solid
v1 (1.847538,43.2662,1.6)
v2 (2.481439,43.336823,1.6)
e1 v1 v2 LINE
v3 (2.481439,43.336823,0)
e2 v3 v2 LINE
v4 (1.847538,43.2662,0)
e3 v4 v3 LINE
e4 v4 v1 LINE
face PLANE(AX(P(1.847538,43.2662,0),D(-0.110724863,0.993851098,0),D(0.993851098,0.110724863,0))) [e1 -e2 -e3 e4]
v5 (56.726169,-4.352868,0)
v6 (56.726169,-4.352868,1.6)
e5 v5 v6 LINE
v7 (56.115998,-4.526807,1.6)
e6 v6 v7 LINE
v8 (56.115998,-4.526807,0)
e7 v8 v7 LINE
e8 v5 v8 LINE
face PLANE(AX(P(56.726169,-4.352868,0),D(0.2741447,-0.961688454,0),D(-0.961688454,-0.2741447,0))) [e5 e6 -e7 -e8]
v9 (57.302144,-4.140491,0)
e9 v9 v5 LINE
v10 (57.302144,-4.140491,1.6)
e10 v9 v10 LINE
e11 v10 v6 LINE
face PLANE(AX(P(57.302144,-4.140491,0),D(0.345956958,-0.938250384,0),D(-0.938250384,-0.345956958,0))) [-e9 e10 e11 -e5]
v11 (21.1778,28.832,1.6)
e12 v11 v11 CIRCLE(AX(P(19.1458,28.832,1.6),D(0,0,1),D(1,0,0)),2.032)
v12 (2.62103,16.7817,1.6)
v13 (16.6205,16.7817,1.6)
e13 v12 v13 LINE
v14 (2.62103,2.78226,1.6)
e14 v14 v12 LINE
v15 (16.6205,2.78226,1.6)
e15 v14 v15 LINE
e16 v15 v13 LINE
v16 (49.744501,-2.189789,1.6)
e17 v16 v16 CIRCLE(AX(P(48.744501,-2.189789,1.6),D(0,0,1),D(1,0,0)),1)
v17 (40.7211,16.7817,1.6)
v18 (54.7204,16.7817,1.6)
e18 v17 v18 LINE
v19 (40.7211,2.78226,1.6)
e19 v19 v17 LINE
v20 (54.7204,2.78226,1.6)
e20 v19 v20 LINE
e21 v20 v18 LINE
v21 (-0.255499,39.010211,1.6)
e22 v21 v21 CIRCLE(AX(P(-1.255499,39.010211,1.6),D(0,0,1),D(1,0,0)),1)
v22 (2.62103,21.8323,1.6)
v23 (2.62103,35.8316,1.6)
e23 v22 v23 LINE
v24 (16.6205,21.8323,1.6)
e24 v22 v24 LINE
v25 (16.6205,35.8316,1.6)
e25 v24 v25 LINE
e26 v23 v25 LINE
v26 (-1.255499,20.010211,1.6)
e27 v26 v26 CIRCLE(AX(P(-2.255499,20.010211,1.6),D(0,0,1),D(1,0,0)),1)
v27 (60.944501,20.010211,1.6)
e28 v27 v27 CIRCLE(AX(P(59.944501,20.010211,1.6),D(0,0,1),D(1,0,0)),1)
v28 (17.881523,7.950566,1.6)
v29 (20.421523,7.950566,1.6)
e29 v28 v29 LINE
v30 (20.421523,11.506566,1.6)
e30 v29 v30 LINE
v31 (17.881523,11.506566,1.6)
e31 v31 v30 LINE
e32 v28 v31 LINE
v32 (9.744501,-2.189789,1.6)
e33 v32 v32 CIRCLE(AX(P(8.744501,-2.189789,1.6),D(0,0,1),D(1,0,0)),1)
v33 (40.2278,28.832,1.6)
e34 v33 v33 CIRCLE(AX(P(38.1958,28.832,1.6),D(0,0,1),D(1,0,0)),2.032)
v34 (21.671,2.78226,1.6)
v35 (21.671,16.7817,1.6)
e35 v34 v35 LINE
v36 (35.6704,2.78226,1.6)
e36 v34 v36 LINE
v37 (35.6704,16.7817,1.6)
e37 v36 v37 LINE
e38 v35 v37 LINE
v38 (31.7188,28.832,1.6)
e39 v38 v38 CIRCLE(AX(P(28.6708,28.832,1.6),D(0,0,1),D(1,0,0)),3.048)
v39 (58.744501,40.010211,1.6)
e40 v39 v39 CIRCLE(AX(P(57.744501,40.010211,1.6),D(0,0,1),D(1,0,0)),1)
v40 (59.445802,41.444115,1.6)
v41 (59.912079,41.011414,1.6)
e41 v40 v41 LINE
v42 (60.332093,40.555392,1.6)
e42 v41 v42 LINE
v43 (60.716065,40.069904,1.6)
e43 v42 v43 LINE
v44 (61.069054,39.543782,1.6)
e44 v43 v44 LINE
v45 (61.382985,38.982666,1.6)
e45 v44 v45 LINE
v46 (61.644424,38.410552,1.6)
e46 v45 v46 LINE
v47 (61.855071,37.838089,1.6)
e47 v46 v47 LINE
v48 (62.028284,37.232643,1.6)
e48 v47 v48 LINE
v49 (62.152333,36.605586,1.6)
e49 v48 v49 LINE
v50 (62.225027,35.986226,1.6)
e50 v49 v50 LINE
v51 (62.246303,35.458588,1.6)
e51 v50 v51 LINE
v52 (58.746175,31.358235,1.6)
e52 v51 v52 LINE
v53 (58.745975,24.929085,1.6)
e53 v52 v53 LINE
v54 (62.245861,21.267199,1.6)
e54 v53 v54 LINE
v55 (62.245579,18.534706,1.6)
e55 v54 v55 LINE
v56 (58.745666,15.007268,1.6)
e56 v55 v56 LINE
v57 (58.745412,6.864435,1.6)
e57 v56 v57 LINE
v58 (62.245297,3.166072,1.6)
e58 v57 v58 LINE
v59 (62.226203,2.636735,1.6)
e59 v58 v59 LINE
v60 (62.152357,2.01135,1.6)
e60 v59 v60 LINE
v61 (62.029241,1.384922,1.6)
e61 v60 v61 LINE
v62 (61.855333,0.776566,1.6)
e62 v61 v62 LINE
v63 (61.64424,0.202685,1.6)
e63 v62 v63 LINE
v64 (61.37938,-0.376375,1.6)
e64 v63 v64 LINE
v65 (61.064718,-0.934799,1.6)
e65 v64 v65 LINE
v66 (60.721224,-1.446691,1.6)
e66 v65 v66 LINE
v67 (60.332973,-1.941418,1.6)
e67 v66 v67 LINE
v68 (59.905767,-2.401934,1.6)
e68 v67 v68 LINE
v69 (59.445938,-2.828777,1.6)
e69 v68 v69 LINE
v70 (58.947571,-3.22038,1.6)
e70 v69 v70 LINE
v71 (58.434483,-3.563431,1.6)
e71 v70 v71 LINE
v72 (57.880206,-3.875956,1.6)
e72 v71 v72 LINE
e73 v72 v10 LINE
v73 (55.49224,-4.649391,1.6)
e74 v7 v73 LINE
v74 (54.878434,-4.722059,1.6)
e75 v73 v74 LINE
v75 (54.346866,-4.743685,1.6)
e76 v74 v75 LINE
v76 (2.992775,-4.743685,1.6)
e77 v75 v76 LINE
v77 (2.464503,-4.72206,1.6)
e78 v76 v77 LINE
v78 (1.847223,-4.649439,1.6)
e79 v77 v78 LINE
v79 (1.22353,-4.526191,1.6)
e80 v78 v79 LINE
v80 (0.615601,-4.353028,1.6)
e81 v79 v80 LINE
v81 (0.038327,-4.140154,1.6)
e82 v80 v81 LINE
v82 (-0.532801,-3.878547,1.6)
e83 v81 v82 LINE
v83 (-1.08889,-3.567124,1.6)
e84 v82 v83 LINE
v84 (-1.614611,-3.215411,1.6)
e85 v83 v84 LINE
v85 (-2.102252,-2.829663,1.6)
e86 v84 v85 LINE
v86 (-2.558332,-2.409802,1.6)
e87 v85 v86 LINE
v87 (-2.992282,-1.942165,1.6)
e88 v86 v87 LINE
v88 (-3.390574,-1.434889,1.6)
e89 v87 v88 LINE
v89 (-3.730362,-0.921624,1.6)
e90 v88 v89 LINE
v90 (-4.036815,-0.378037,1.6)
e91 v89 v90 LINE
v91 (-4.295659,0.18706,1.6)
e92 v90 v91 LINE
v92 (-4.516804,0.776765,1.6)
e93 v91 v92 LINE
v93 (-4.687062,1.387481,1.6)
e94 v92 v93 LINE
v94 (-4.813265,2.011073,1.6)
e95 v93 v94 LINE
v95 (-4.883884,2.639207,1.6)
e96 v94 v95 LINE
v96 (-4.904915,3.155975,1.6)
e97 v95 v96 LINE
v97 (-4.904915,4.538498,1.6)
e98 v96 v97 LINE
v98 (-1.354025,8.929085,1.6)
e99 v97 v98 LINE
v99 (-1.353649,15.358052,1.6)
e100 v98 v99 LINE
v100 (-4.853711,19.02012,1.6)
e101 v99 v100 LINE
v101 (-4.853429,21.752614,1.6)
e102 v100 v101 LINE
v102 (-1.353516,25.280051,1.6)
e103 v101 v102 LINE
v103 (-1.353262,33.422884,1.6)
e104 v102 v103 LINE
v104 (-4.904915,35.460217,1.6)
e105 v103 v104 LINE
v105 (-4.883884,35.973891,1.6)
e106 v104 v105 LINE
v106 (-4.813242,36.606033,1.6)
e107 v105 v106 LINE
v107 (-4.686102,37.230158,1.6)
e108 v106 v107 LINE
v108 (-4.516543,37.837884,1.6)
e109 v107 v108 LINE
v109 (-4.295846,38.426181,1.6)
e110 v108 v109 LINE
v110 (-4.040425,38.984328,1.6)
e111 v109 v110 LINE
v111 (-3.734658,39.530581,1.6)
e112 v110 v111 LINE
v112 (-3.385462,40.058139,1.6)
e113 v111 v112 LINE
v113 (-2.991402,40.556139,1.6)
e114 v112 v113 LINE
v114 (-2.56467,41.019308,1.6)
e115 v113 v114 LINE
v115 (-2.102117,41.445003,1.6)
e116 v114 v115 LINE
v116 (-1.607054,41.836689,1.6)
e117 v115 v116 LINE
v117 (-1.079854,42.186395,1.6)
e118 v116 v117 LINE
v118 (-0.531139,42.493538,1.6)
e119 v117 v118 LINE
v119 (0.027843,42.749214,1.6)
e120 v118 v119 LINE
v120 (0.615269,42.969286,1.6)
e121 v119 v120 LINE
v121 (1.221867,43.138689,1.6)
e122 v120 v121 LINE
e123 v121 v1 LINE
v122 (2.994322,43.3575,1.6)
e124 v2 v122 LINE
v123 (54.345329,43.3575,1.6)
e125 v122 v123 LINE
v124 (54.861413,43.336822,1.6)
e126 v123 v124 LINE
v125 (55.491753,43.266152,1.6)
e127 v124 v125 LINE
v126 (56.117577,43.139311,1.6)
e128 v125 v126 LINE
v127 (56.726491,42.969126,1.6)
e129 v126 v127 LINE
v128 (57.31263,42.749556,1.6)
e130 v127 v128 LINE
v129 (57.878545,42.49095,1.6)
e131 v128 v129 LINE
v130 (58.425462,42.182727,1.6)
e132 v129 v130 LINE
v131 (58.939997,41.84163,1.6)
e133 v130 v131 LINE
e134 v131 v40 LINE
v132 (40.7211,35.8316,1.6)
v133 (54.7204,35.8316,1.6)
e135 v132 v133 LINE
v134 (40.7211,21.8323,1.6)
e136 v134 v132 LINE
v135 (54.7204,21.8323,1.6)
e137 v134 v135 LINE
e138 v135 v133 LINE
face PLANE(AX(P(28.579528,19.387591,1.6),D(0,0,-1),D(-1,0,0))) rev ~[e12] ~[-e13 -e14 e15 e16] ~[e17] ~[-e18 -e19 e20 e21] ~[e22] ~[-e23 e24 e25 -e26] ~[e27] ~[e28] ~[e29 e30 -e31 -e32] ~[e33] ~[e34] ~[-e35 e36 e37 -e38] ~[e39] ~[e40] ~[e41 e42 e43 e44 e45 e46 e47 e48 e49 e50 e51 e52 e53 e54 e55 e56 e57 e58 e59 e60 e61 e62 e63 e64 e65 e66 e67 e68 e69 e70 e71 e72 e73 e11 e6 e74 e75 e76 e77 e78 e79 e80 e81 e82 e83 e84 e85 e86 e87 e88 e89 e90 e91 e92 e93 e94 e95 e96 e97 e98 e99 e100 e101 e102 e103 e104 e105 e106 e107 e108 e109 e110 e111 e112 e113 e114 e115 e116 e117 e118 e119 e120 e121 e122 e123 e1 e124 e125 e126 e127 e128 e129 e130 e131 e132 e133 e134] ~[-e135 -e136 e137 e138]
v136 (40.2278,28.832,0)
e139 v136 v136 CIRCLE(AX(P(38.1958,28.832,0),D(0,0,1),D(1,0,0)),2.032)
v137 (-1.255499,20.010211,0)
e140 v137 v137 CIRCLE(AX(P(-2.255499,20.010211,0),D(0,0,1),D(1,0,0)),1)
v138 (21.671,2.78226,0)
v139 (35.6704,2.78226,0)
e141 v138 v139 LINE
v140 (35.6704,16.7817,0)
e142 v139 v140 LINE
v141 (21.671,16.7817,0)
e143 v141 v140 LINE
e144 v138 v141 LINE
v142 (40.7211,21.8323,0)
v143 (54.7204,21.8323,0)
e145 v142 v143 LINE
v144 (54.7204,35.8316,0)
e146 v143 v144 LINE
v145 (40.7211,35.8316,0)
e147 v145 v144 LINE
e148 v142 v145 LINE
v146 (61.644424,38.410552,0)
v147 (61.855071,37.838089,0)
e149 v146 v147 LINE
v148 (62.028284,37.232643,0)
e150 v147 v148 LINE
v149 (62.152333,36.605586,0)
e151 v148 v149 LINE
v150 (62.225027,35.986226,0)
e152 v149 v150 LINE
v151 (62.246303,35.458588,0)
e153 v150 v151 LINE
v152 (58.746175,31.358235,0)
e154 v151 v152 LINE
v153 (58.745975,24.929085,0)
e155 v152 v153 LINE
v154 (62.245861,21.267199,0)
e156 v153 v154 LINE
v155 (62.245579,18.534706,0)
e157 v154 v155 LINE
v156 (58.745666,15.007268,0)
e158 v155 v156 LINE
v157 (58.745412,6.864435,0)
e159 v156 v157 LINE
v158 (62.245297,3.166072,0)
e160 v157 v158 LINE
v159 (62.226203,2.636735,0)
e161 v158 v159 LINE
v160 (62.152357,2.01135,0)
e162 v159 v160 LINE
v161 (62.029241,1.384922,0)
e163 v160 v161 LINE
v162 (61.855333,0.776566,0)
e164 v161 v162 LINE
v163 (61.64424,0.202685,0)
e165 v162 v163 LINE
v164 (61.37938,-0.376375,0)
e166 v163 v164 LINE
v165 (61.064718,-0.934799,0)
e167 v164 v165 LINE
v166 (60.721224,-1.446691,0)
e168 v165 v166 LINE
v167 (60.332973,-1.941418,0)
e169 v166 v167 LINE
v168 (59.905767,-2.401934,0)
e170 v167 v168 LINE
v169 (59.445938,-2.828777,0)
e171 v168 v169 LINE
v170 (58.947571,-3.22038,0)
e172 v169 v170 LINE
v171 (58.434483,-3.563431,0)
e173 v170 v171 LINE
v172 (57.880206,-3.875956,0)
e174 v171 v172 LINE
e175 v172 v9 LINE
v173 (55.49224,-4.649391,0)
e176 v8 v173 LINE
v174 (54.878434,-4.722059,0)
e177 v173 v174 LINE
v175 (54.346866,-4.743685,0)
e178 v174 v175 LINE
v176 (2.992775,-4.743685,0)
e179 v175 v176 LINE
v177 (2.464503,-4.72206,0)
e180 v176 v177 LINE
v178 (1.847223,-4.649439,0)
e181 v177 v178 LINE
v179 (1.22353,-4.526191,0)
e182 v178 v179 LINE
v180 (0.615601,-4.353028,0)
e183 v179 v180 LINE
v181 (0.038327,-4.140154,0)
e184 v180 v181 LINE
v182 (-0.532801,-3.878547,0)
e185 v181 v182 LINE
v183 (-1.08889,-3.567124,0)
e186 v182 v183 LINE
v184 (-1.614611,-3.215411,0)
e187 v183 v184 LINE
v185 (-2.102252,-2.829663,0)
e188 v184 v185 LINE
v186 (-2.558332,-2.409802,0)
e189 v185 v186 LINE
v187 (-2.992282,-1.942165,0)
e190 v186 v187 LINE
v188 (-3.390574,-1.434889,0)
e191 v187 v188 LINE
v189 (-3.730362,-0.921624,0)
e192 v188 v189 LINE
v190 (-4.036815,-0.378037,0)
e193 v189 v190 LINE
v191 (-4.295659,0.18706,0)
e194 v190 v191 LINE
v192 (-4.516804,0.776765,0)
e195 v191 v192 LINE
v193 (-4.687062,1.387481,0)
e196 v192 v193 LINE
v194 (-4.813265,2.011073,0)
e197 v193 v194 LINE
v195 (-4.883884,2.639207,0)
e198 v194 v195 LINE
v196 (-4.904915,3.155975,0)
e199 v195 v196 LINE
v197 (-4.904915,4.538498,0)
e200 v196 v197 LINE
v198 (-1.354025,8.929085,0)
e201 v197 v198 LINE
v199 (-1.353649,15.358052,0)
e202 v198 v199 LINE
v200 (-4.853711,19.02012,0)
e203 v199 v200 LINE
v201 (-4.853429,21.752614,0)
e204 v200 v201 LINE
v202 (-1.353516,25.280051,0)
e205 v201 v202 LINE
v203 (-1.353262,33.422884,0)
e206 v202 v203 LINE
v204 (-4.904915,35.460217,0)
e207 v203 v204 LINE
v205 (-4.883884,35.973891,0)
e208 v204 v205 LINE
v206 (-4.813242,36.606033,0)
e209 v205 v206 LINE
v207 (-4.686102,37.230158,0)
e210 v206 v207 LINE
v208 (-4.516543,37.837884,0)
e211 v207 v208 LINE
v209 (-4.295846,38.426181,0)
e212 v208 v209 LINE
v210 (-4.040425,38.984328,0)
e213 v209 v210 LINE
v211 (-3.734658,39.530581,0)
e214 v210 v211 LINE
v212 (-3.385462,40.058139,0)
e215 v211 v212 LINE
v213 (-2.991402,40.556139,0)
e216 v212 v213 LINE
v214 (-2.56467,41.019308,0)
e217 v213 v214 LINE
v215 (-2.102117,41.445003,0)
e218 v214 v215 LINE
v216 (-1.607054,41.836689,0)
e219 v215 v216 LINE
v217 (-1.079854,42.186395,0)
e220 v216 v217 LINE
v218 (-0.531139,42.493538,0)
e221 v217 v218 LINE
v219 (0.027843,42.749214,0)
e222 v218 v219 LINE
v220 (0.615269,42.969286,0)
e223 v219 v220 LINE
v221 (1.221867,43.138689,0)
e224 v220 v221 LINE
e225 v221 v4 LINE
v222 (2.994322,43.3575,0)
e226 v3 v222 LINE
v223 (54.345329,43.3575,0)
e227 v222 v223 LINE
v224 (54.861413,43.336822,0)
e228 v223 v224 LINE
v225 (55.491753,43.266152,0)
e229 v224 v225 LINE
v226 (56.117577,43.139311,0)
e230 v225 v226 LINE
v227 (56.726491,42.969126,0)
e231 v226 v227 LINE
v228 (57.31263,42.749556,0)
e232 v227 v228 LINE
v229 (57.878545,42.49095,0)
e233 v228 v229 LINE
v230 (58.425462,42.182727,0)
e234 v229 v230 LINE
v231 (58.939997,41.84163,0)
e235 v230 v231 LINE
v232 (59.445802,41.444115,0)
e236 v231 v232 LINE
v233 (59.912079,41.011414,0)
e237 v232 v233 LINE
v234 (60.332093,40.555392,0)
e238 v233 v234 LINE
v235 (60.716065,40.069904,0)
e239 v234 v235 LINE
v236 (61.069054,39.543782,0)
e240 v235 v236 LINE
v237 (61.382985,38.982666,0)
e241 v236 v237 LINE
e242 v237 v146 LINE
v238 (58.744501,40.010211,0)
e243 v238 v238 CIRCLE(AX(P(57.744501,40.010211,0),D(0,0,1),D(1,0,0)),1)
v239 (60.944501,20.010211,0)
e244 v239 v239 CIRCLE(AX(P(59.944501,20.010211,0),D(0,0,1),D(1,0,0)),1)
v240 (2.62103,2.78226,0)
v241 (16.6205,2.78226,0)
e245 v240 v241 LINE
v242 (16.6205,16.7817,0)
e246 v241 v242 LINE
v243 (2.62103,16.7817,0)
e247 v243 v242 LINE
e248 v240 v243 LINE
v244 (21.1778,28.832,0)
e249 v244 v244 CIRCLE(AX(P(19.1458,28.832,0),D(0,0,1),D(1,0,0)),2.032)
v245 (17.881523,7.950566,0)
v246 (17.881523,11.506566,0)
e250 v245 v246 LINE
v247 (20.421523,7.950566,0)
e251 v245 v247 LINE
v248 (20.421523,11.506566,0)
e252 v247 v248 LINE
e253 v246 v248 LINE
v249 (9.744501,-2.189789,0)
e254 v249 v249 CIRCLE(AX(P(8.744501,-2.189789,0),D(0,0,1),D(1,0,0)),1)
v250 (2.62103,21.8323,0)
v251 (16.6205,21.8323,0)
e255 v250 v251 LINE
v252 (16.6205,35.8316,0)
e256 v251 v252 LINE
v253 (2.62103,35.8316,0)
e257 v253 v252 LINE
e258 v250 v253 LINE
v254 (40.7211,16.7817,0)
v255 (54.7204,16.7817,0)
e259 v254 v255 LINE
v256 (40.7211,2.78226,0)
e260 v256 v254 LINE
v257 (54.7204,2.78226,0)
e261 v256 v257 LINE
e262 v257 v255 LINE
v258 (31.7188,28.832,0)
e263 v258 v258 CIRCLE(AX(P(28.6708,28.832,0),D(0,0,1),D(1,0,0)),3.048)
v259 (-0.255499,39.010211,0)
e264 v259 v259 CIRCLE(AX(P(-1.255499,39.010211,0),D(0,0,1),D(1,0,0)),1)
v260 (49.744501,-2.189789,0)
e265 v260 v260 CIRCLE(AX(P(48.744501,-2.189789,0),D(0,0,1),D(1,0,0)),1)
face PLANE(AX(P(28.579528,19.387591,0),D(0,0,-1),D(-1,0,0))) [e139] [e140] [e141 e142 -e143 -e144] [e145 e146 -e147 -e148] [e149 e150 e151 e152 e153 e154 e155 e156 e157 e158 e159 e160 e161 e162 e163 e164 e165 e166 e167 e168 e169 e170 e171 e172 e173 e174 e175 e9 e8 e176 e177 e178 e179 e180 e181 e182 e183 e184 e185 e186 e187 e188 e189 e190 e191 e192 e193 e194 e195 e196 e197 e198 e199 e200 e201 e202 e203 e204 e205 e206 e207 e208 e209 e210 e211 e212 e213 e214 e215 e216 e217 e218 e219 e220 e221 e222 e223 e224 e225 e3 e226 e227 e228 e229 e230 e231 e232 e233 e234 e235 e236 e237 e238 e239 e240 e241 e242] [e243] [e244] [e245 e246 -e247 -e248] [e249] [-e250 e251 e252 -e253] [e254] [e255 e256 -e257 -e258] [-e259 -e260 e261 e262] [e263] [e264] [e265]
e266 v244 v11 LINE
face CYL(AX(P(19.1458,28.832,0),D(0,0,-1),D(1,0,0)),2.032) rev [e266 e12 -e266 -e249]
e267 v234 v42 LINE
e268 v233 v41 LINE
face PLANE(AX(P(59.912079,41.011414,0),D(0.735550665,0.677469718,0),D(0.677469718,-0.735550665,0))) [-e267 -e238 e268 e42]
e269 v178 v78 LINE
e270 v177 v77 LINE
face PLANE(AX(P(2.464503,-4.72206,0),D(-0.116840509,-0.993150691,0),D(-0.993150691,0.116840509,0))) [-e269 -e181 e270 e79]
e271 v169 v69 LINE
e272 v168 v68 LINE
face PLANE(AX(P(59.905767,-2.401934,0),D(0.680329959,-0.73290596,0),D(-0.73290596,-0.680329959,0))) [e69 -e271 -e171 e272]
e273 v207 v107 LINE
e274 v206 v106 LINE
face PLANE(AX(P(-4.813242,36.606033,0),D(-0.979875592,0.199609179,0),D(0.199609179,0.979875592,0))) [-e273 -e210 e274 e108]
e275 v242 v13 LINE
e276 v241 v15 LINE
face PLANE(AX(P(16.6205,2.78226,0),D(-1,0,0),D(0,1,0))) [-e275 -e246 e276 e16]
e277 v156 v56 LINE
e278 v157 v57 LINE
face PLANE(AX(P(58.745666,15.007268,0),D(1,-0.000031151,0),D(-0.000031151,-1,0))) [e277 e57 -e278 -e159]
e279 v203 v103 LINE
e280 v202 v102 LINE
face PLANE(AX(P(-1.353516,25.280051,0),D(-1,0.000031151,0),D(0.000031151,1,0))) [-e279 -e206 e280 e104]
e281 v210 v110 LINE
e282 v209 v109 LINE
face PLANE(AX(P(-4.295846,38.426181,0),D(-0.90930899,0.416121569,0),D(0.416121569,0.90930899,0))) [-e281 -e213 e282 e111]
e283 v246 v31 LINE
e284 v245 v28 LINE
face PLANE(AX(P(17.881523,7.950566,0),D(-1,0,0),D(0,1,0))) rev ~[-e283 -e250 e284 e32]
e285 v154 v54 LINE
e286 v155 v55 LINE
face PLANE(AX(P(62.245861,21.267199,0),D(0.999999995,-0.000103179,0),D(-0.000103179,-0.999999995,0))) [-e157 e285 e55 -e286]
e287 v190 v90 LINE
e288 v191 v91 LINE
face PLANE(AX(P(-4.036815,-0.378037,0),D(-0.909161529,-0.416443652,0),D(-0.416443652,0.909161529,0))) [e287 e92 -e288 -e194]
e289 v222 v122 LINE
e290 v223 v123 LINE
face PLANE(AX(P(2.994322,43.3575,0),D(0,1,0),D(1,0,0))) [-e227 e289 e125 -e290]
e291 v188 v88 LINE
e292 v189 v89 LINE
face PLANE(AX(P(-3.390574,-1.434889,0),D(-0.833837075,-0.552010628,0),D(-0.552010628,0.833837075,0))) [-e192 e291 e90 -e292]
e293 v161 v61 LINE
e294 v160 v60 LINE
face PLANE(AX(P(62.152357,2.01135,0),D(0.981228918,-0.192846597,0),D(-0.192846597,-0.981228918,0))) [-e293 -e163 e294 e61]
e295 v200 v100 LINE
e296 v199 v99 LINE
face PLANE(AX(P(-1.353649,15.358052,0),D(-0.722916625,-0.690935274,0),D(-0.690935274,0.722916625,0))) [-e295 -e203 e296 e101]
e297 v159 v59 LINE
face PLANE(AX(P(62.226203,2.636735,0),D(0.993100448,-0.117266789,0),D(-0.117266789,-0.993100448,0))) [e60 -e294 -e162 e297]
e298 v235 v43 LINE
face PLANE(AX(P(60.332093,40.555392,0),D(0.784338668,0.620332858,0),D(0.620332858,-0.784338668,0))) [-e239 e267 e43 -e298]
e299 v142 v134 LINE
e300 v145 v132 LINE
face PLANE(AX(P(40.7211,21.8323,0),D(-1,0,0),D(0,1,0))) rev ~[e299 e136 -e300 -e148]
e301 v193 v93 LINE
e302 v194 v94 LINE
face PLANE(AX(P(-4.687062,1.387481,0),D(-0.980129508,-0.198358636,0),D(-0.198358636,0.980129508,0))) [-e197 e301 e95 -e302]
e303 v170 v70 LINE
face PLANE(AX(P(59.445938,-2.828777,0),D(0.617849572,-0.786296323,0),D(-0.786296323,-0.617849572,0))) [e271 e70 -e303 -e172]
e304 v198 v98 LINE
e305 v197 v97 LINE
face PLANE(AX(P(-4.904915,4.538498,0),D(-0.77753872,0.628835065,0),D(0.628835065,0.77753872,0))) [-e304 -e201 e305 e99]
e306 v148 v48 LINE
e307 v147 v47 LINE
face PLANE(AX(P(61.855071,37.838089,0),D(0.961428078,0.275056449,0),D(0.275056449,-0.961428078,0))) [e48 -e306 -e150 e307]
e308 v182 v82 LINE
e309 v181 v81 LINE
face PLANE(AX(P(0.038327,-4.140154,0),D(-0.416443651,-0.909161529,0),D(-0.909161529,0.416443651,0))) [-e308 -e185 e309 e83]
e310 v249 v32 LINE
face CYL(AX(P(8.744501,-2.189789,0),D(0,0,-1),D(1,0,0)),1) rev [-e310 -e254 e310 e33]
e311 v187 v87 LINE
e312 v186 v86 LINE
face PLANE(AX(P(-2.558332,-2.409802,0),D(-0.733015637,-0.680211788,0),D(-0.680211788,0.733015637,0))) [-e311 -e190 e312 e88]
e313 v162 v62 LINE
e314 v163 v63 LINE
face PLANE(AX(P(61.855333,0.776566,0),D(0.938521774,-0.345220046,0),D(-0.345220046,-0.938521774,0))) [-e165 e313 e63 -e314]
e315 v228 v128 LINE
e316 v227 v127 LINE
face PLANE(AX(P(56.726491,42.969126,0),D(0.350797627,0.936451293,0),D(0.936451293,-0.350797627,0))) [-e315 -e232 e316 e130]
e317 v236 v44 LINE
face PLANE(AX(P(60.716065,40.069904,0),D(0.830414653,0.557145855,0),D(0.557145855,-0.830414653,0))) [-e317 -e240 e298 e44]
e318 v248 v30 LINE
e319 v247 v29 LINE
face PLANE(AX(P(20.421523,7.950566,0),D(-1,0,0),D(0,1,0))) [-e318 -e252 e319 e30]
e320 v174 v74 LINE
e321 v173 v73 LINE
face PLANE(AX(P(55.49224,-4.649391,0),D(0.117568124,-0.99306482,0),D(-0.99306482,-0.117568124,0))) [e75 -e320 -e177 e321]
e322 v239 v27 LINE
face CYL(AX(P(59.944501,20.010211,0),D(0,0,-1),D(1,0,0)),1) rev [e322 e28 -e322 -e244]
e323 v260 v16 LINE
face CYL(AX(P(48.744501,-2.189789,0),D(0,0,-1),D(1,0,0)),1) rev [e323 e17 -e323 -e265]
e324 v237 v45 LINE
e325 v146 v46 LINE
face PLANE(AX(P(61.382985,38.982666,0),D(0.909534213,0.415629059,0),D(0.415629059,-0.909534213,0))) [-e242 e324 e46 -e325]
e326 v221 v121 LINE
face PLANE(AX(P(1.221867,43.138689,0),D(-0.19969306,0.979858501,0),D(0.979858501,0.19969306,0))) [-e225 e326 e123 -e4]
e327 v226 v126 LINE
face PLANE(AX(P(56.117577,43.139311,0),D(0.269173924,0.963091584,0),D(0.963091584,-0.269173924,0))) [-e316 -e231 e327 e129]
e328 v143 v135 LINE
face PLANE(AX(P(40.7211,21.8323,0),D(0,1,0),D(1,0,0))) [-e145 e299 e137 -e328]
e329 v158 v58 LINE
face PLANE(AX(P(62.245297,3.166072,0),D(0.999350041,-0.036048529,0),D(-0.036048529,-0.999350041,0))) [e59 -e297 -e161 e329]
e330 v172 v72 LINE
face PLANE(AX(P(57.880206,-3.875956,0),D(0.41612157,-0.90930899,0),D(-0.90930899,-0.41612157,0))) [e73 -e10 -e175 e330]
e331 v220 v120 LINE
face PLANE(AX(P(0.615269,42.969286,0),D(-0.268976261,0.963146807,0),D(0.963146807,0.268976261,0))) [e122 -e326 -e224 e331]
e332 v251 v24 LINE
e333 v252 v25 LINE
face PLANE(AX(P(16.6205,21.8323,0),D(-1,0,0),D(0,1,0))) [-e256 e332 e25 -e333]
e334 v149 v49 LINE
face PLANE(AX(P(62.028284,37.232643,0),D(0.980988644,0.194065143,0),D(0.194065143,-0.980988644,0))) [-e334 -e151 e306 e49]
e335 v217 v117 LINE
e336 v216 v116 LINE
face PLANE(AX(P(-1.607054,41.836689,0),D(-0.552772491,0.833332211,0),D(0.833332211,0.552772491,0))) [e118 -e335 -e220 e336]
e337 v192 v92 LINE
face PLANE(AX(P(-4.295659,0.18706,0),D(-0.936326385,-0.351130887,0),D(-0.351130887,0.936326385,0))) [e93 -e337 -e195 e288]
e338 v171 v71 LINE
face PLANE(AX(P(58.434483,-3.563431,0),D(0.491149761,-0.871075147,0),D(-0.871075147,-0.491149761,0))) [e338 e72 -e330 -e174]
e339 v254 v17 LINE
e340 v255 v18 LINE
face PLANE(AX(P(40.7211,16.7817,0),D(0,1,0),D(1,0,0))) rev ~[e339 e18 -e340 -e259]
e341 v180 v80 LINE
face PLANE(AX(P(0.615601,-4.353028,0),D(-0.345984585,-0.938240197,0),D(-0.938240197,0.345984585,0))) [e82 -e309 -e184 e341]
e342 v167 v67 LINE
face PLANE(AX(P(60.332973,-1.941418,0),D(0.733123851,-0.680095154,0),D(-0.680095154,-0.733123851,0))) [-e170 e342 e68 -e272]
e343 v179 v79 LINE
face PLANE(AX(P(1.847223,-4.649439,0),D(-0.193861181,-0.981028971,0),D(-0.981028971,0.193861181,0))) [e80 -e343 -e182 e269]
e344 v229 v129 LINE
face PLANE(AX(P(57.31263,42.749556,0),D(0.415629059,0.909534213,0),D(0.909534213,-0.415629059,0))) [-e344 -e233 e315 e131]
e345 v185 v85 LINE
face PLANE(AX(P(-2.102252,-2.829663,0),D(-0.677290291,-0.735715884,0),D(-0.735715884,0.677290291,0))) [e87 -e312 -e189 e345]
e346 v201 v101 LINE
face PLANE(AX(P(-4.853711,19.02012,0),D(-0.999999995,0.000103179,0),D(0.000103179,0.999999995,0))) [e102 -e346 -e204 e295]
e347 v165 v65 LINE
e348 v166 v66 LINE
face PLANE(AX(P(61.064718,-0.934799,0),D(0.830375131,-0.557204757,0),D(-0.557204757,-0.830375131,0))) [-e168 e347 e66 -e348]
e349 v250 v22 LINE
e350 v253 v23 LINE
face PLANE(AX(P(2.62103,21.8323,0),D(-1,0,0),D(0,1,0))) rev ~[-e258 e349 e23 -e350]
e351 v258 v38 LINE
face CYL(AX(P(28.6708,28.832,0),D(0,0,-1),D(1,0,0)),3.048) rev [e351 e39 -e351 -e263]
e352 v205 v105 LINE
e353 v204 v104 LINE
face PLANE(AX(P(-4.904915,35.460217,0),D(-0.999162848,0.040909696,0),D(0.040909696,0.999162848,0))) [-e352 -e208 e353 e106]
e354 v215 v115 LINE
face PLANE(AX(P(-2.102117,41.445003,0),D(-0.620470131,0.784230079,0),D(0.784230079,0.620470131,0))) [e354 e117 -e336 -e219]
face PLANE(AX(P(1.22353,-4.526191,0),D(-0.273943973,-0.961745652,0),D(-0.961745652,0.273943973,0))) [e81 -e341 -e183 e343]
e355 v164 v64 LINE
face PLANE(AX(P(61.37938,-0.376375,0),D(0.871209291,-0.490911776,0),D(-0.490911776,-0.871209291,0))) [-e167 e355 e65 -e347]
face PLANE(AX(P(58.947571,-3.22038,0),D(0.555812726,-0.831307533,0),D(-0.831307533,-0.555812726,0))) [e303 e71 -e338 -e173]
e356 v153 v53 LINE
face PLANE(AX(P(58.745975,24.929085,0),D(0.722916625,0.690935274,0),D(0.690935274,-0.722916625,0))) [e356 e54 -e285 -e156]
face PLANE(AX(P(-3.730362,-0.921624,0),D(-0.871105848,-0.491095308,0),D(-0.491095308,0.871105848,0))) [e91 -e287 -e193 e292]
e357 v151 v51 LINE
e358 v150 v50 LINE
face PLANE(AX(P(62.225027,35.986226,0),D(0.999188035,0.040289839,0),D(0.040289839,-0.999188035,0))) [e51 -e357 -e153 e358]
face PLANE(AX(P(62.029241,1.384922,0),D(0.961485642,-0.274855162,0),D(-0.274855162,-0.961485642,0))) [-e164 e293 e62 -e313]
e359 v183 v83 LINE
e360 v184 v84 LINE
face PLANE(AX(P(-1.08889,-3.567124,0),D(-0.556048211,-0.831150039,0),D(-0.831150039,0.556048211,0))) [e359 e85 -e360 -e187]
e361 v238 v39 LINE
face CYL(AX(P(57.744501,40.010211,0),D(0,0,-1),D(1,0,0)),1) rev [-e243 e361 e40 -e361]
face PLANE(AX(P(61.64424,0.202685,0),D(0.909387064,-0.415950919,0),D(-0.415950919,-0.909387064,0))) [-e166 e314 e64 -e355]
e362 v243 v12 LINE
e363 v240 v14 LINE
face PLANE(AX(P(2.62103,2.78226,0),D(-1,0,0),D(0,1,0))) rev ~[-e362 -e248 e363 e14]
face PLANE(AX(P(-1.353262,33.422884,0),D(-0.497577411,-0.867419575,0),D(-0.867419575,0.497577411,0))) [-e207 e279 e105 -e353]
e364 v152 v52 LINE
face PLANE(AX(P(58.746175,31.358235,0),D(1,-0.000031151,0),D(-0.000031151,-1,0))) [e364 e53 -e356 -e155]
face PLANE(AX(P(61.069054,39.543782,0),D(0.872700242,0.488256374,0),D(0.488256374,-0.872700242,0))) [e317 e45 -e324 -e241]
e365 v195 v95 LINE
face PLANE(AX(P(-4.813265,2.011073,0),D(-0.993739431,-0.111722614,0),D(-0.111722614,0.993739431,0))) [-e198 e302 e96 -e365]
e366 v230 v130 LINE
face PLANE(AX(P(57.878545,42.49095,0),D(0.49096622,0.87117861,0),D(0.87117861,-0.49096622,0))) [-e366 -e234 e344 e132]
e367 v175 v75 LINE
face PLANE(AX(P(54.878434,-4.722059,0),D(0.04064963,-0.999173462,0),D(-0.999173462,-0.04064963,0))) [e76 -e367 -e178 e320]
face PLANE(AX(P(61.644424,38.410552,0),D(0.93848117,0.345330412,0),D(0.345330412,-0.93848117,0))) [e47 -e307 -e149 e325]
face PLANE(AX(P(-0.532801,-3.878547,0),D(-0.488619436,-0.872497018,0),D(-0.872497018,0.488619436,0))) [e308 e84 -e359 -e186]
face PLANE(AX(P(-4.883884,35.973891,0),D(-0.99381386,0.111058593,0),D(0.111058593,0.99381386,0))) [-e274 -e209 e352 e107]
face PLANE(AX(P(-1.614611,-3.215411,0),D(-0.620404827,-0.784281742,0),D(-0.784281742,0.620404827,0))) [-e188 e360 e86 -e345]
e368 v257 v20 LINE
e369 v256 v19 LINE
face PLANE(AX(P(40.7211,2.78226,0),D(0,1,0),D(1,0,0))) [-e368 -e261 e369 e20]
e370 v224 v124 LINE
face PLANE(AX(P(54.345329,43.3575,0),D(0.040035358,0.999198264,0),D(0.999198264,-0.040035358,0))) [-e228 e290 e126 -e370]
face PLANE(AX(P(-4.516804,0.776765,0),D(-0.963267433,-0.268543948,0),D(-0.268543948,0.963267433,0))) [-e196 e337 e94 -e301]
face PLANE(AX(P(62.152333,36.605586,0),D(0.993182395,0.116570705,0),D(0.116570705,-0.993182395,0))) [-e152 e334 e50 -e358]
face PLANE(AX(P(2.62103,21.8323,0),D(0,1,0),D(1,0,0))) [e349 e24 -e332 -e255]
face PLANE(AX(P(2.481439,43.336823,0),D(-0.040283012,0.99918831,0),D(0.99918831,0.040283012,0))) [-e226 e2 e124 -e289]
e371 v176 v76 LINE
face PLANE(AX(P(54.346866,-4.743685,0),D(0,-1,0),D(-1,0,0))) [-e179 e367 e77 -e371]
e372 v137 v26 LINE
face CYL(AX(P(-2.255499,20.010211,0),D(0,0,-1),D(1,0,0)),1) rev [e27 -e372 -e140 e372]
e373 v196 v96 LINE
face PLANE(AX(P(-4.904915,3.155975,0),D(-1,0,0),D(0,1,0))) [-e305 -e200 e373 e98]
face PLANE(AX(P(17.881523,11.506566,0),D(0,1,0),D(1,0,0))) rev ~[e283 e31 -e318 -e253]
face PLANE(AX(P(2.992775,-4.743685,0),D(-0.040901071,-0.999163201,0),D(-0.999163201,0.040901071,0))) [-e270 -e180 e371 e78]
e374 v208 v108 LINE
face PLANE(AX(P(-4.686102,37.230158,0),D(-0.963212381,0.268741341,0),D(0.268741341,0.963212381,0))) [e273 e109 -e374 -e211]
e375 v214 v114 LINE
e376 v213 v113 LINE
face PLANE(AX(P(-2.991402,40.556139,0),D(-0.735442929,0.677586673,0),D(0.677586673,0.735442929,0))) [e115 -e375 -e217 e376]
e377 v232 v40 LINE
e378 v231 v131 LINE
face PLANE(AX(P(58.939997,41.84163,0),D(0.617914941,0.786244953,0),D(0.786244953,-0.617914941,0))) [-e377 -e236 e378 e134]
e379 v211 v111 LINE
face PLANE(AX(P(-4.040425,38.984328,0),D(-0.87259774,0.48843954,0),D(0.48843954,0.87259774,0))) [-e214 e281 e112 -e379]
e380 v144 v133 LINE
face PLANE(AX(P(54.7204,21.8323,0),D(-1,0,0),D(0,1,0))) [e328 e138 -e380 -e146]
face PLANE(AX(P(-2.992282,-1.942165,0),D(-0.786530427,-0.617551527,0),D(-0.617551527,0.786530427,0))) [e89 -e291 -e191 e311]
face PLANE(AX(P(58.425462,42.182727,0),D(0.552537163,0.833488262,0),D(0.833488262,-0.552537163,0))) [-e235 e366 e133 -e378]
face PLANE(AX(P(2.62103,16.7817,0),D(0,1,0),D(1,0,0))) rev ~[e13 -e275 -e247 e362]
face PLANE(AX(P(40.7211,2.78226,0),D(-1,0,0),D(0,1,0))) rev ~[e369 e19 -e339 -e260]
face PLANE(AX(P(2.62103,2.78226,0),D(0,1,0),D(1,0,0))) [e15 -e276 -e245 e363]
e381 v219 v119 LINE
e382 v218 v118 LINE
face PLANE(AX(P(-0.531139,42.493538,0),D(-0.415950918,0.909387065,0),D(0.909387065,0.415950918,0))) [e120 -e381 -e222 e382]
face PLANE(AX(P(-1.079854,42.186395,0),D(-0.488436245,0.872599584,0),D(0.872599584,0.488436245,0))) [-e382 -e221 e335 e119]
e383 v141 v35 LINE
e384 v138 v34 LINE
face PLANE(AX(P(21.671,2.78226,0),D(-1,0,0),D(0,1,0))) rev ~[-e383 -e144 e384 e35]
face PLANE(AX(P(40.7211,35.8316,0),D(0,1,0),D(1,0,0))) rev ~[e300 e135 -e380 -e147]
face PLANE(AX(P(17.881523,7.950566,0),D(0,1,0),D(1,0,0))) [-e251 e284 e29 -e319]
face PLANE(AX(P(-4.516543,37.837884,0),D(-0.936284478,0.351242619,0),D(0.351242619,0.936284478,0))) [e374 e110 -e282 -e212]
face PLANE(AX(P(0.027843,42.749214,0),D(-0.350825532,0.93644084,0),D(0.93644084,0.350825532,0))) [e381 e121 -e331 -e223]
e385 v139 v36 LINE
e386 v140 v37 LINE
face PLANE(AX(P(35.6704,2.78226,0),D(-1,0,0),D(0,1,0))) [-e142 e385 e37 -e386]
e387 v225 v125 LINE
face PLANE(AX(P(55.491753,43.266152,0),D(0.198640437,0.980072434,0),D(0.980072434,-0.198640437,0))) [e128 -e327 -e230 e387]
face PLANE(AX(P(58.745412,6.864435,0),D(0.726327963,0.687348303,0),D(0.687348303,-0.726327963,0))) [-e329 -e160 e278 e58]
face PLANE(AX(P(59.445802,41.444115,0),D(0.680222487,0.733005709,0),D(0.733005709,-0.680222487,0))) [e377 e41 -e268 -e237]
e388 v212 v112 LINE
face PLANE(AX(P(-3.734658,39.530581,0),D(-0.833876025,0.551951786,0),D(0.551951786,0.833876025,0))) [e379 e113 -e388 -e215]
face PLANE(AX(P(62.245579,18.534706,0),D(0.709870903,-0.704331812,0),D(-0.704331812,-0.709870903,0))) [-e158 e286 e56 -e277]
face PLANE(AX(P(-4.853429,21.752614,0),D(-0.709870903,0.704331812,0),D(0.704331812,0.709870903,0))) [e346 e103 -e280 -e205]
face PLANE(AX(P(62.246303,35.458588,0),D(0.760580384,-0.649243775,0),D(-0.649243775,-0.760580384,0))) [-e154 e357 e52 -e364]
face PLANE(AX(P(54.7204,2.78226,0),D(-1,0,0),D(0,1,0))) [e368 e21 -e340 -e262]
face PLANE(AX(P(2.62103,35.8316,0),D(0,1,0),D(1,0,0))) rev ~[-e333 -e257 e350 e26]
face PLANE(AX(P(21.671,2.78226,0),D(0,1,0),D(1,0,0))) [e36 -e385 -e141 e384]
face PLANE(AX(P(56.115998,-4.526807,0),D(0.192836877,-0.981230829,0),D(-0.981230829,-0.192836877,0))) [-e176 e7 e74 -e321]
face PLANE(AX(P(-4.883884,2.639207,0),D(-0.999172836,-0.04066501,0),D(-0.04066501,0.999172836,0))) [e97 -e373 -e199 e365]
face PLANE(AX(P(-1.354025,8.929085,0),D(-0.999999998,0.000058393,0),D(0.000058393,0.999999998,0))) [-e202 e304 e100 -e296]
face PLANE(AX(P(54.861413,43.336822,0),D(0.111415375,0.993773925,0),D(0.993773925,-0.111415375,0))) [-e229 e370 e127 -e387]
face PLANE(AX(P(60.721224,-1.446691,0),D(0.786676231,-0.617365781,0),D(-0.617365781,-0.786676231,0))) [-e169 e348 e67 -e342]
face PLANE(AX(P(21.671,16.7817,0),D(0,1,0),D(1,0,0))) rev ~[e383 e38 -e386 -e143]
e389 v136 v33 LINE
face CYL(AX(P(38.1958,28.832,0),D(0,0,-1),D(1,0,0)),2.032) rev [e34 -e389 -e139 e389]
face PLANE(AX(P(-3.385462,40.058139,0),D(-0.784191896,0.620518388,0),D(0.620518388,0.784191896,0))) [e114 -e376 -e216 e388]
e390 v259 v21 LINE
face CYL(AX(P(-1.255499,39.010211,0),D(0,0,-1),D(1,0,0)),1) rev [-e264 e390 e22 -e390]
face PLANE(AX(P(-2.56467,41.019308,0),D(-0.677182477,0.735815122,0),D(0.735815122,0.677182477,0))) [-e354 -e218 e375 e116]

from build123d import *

# Parameters (mm, degrees)
MODEL_R         = 2.032
MODEL_R_2       = 3.048
MODEL_R_3       = 1
MODEL_W         = 13.99947
MODEL_H         = 13.99944
MODEL_W_2       = 13.9993
MODEL_H_2       = 13.9993
MODEL_W_3       = 13.9994
MODEL_W_4       = 2.54
MODEL_H_3       = 3.556
EXTRUDE_1_DEPTH = 1.6


with BuildPart() as part:
    # Model → 凸台-拉伸1 (new body)
    with BuildSketch(Plane.XY):
        Polygon((-4.883883532, 35.973891408), (-4.813241799, 36.606032798), (-4.68610198, 37.230158431), (-4.516543388, 37.837883816), (-4.295846464, 38.426181173), (-4.040425316, 38.98432755), (-3.734657976, 39.530581217), (-3.38546168, 40.058138925), (-2.991401911, 40.556139441), (-2.564669958, 41.019308228), (-2.102117382, 41.445002794), (-1.607054067, 41.836688867), (-1.079854091, 42.186395311), (-0.531138892, 42.493537781), (0.027842562, 42.749214223), (0.615268756, 42.969285901), (1.221866946, 43.138689477), (1.847538347, 43.266199966), (2.481438717, 43.33682275), (2.994321582, 43.3575), (54.345328535, 43.3575), (54.861412529, 43.336821814), (55.491753218, 43.266152175), (56.117576842, 43.139310654), (56.726490724, 42.969125656), (57.312630049, 42.749556004), (57.878545004, 42.490950339), (58.425461808, 42.18272689), (58.9399975, 41.841630195), (59.445802193, 41.444115049), (59.912079101, 41.011414411), (60.332093164, 40.555391632), (60.716064737, 40.069904287), (61.069053534, 39.543781609), (61.382985177, 38.982666106), (61.644423874, 38.410551538), (61.855071366, 37.838089056), (62.028284371, 37.232642984), (62.152332548, 36.60558626), (62.225027392, 35.986226197), (62.246303139, 35.458587663), (58.746175407, 31.358234918), (58.745975132, 24.929084585), (62.245861062, 21.267199282), (62.245579127, 18.534705638), (58.745666056, 15.007268129), (58.745412398, 6.86443549), (62.245297192, 3.166071528), (62.226202972, 2.636734827), (62.152356641, 2.011350393), (62.029241049, 1.384922025), (61.855333273, 0.776565869), (61.644240363, 0.202684675), (61.379380282, -0.376374826), (61.064717919, -0.934798534), (60.721224007, -1.446690794), (60.332973054, -1.941418241), (59.905767444, -2.401934126), (59.445938304, -2.8287768), (58.947571314, -3.220379587), (58.434482529, -3.563431063), (57.880206411, -3.875955859), (57.302144081, -4.140491025), (56.726168878, -4.352867841), (56.11599848, -4.526806688), (55.492240411, -4.649391053), (54.87843401, -4.722059086), (54.34686609, -4.743685), (2.992774524, -4.743685), (2.464503115, -4.722060038), (1.847223482, -4.64943937), (1.223529929, -4.526191258), (0.615600502, -4.353028424), (0.038326794, -4.140153507), (-0.532800957, -3.878547051), (-1.088890304, -3.567123565), (-1.614610519, -3.215411153), (-2.102251702, -2.829663369), (-2.558331876, -2.409802006), (-2.992281832, -1.942165148), (-3.390574278, -1.434889052), (-3.730362364, -0.921623746), (-4.03681533, -0.378036856), (-4.295659415, 0.187060206), (-4.516803943, 0.776764684), (-4.687062167, 1.387481119), (-4.813264805, 2.011073476), (-4.883883595, 2.639206616), (-4.9049154, 3.15597541), (-4.9049154, 4.538497879), (-1.354024868, 8.929084585), (-1.353649461, 15.358051679), (-4.853710523, 19.020120221), (-4.853428588, 21.752613865), (-1.353515518, 25.280051374), (-1.35326186, 33.422884013), (-4.9049154, 35.460217069), align=None)
        with Locations((38.1958, 28.832)):
            Circle(MODEL_R, mode=Mode.SUBTRACT)
        with Locations((19.1458, 28.832)):
            Circle(MODEL_R, mode=Mode.SUBTRACT)
        with Locations((28.6708, 28.832)):
            Circle(MODEL_R_2, mode=Mode.SUBTRACT)
        with Locations((-2.255498735, 20.010211418)):
            Circle(MODEL_R_3, mode=Mode.SUBTRACT)
        with Locations((-1.255498735, 39.010211418)):
            Circle(MODEL_R_3, mode=Mode.SUBTRACT)
        with Locations((57.744501265, 40.010211418)):
            Circle(MODEL_R_3, mode=Mode.SUBTRACT)
        with Locations((59.944501265, 20.010211418)):
            Circle(MODEL_R_3, mode=Mode.SUBTRACT)
        with Locations((8.744501265, -2.189788582)):
            Circle(MODEL_R_3, mode=Mode.SUBTRACT)
        with Locations((48.744501265, -2.189788582)):
            Circle(MODEL_R_3, mode=Mode.SUBTRACT)
        with Locations((9.620765, 9.78198)):
            Rectangle(MODEL_W, MODEL_H, mode=Mode.SUBTRACT)
        with Locations((47.72075, 28.83195)):
            Rectangle(MODEL_W_2, MODEL_H_2, mode=Mode.SUBTRACT)
        with Locations((28.6707, 9.78198)):
            Rectangle(MODEL_W_3, MODEL_H, mode=Mode.SUBTRACT)
        with Locations((9.620765, 28.83195)):
            Rectangle(MODEL_W, MODEL_H_2, mode=Mode.SUBTRACT)
        with Locations((47.72075, 9.78198)):
            Rectangle(MODEL_W_2, MODEL_H, mode=Mode.SUBTRACT)
        with Locations((19.151523106, 9.728566018)):
            Rectangle(MODEL_W_4, MODEL_H_3, mode=Mode.SUBTRACT)
    extrude(amount=EXTRUDE_1_DEPTH)


solid = part.part
